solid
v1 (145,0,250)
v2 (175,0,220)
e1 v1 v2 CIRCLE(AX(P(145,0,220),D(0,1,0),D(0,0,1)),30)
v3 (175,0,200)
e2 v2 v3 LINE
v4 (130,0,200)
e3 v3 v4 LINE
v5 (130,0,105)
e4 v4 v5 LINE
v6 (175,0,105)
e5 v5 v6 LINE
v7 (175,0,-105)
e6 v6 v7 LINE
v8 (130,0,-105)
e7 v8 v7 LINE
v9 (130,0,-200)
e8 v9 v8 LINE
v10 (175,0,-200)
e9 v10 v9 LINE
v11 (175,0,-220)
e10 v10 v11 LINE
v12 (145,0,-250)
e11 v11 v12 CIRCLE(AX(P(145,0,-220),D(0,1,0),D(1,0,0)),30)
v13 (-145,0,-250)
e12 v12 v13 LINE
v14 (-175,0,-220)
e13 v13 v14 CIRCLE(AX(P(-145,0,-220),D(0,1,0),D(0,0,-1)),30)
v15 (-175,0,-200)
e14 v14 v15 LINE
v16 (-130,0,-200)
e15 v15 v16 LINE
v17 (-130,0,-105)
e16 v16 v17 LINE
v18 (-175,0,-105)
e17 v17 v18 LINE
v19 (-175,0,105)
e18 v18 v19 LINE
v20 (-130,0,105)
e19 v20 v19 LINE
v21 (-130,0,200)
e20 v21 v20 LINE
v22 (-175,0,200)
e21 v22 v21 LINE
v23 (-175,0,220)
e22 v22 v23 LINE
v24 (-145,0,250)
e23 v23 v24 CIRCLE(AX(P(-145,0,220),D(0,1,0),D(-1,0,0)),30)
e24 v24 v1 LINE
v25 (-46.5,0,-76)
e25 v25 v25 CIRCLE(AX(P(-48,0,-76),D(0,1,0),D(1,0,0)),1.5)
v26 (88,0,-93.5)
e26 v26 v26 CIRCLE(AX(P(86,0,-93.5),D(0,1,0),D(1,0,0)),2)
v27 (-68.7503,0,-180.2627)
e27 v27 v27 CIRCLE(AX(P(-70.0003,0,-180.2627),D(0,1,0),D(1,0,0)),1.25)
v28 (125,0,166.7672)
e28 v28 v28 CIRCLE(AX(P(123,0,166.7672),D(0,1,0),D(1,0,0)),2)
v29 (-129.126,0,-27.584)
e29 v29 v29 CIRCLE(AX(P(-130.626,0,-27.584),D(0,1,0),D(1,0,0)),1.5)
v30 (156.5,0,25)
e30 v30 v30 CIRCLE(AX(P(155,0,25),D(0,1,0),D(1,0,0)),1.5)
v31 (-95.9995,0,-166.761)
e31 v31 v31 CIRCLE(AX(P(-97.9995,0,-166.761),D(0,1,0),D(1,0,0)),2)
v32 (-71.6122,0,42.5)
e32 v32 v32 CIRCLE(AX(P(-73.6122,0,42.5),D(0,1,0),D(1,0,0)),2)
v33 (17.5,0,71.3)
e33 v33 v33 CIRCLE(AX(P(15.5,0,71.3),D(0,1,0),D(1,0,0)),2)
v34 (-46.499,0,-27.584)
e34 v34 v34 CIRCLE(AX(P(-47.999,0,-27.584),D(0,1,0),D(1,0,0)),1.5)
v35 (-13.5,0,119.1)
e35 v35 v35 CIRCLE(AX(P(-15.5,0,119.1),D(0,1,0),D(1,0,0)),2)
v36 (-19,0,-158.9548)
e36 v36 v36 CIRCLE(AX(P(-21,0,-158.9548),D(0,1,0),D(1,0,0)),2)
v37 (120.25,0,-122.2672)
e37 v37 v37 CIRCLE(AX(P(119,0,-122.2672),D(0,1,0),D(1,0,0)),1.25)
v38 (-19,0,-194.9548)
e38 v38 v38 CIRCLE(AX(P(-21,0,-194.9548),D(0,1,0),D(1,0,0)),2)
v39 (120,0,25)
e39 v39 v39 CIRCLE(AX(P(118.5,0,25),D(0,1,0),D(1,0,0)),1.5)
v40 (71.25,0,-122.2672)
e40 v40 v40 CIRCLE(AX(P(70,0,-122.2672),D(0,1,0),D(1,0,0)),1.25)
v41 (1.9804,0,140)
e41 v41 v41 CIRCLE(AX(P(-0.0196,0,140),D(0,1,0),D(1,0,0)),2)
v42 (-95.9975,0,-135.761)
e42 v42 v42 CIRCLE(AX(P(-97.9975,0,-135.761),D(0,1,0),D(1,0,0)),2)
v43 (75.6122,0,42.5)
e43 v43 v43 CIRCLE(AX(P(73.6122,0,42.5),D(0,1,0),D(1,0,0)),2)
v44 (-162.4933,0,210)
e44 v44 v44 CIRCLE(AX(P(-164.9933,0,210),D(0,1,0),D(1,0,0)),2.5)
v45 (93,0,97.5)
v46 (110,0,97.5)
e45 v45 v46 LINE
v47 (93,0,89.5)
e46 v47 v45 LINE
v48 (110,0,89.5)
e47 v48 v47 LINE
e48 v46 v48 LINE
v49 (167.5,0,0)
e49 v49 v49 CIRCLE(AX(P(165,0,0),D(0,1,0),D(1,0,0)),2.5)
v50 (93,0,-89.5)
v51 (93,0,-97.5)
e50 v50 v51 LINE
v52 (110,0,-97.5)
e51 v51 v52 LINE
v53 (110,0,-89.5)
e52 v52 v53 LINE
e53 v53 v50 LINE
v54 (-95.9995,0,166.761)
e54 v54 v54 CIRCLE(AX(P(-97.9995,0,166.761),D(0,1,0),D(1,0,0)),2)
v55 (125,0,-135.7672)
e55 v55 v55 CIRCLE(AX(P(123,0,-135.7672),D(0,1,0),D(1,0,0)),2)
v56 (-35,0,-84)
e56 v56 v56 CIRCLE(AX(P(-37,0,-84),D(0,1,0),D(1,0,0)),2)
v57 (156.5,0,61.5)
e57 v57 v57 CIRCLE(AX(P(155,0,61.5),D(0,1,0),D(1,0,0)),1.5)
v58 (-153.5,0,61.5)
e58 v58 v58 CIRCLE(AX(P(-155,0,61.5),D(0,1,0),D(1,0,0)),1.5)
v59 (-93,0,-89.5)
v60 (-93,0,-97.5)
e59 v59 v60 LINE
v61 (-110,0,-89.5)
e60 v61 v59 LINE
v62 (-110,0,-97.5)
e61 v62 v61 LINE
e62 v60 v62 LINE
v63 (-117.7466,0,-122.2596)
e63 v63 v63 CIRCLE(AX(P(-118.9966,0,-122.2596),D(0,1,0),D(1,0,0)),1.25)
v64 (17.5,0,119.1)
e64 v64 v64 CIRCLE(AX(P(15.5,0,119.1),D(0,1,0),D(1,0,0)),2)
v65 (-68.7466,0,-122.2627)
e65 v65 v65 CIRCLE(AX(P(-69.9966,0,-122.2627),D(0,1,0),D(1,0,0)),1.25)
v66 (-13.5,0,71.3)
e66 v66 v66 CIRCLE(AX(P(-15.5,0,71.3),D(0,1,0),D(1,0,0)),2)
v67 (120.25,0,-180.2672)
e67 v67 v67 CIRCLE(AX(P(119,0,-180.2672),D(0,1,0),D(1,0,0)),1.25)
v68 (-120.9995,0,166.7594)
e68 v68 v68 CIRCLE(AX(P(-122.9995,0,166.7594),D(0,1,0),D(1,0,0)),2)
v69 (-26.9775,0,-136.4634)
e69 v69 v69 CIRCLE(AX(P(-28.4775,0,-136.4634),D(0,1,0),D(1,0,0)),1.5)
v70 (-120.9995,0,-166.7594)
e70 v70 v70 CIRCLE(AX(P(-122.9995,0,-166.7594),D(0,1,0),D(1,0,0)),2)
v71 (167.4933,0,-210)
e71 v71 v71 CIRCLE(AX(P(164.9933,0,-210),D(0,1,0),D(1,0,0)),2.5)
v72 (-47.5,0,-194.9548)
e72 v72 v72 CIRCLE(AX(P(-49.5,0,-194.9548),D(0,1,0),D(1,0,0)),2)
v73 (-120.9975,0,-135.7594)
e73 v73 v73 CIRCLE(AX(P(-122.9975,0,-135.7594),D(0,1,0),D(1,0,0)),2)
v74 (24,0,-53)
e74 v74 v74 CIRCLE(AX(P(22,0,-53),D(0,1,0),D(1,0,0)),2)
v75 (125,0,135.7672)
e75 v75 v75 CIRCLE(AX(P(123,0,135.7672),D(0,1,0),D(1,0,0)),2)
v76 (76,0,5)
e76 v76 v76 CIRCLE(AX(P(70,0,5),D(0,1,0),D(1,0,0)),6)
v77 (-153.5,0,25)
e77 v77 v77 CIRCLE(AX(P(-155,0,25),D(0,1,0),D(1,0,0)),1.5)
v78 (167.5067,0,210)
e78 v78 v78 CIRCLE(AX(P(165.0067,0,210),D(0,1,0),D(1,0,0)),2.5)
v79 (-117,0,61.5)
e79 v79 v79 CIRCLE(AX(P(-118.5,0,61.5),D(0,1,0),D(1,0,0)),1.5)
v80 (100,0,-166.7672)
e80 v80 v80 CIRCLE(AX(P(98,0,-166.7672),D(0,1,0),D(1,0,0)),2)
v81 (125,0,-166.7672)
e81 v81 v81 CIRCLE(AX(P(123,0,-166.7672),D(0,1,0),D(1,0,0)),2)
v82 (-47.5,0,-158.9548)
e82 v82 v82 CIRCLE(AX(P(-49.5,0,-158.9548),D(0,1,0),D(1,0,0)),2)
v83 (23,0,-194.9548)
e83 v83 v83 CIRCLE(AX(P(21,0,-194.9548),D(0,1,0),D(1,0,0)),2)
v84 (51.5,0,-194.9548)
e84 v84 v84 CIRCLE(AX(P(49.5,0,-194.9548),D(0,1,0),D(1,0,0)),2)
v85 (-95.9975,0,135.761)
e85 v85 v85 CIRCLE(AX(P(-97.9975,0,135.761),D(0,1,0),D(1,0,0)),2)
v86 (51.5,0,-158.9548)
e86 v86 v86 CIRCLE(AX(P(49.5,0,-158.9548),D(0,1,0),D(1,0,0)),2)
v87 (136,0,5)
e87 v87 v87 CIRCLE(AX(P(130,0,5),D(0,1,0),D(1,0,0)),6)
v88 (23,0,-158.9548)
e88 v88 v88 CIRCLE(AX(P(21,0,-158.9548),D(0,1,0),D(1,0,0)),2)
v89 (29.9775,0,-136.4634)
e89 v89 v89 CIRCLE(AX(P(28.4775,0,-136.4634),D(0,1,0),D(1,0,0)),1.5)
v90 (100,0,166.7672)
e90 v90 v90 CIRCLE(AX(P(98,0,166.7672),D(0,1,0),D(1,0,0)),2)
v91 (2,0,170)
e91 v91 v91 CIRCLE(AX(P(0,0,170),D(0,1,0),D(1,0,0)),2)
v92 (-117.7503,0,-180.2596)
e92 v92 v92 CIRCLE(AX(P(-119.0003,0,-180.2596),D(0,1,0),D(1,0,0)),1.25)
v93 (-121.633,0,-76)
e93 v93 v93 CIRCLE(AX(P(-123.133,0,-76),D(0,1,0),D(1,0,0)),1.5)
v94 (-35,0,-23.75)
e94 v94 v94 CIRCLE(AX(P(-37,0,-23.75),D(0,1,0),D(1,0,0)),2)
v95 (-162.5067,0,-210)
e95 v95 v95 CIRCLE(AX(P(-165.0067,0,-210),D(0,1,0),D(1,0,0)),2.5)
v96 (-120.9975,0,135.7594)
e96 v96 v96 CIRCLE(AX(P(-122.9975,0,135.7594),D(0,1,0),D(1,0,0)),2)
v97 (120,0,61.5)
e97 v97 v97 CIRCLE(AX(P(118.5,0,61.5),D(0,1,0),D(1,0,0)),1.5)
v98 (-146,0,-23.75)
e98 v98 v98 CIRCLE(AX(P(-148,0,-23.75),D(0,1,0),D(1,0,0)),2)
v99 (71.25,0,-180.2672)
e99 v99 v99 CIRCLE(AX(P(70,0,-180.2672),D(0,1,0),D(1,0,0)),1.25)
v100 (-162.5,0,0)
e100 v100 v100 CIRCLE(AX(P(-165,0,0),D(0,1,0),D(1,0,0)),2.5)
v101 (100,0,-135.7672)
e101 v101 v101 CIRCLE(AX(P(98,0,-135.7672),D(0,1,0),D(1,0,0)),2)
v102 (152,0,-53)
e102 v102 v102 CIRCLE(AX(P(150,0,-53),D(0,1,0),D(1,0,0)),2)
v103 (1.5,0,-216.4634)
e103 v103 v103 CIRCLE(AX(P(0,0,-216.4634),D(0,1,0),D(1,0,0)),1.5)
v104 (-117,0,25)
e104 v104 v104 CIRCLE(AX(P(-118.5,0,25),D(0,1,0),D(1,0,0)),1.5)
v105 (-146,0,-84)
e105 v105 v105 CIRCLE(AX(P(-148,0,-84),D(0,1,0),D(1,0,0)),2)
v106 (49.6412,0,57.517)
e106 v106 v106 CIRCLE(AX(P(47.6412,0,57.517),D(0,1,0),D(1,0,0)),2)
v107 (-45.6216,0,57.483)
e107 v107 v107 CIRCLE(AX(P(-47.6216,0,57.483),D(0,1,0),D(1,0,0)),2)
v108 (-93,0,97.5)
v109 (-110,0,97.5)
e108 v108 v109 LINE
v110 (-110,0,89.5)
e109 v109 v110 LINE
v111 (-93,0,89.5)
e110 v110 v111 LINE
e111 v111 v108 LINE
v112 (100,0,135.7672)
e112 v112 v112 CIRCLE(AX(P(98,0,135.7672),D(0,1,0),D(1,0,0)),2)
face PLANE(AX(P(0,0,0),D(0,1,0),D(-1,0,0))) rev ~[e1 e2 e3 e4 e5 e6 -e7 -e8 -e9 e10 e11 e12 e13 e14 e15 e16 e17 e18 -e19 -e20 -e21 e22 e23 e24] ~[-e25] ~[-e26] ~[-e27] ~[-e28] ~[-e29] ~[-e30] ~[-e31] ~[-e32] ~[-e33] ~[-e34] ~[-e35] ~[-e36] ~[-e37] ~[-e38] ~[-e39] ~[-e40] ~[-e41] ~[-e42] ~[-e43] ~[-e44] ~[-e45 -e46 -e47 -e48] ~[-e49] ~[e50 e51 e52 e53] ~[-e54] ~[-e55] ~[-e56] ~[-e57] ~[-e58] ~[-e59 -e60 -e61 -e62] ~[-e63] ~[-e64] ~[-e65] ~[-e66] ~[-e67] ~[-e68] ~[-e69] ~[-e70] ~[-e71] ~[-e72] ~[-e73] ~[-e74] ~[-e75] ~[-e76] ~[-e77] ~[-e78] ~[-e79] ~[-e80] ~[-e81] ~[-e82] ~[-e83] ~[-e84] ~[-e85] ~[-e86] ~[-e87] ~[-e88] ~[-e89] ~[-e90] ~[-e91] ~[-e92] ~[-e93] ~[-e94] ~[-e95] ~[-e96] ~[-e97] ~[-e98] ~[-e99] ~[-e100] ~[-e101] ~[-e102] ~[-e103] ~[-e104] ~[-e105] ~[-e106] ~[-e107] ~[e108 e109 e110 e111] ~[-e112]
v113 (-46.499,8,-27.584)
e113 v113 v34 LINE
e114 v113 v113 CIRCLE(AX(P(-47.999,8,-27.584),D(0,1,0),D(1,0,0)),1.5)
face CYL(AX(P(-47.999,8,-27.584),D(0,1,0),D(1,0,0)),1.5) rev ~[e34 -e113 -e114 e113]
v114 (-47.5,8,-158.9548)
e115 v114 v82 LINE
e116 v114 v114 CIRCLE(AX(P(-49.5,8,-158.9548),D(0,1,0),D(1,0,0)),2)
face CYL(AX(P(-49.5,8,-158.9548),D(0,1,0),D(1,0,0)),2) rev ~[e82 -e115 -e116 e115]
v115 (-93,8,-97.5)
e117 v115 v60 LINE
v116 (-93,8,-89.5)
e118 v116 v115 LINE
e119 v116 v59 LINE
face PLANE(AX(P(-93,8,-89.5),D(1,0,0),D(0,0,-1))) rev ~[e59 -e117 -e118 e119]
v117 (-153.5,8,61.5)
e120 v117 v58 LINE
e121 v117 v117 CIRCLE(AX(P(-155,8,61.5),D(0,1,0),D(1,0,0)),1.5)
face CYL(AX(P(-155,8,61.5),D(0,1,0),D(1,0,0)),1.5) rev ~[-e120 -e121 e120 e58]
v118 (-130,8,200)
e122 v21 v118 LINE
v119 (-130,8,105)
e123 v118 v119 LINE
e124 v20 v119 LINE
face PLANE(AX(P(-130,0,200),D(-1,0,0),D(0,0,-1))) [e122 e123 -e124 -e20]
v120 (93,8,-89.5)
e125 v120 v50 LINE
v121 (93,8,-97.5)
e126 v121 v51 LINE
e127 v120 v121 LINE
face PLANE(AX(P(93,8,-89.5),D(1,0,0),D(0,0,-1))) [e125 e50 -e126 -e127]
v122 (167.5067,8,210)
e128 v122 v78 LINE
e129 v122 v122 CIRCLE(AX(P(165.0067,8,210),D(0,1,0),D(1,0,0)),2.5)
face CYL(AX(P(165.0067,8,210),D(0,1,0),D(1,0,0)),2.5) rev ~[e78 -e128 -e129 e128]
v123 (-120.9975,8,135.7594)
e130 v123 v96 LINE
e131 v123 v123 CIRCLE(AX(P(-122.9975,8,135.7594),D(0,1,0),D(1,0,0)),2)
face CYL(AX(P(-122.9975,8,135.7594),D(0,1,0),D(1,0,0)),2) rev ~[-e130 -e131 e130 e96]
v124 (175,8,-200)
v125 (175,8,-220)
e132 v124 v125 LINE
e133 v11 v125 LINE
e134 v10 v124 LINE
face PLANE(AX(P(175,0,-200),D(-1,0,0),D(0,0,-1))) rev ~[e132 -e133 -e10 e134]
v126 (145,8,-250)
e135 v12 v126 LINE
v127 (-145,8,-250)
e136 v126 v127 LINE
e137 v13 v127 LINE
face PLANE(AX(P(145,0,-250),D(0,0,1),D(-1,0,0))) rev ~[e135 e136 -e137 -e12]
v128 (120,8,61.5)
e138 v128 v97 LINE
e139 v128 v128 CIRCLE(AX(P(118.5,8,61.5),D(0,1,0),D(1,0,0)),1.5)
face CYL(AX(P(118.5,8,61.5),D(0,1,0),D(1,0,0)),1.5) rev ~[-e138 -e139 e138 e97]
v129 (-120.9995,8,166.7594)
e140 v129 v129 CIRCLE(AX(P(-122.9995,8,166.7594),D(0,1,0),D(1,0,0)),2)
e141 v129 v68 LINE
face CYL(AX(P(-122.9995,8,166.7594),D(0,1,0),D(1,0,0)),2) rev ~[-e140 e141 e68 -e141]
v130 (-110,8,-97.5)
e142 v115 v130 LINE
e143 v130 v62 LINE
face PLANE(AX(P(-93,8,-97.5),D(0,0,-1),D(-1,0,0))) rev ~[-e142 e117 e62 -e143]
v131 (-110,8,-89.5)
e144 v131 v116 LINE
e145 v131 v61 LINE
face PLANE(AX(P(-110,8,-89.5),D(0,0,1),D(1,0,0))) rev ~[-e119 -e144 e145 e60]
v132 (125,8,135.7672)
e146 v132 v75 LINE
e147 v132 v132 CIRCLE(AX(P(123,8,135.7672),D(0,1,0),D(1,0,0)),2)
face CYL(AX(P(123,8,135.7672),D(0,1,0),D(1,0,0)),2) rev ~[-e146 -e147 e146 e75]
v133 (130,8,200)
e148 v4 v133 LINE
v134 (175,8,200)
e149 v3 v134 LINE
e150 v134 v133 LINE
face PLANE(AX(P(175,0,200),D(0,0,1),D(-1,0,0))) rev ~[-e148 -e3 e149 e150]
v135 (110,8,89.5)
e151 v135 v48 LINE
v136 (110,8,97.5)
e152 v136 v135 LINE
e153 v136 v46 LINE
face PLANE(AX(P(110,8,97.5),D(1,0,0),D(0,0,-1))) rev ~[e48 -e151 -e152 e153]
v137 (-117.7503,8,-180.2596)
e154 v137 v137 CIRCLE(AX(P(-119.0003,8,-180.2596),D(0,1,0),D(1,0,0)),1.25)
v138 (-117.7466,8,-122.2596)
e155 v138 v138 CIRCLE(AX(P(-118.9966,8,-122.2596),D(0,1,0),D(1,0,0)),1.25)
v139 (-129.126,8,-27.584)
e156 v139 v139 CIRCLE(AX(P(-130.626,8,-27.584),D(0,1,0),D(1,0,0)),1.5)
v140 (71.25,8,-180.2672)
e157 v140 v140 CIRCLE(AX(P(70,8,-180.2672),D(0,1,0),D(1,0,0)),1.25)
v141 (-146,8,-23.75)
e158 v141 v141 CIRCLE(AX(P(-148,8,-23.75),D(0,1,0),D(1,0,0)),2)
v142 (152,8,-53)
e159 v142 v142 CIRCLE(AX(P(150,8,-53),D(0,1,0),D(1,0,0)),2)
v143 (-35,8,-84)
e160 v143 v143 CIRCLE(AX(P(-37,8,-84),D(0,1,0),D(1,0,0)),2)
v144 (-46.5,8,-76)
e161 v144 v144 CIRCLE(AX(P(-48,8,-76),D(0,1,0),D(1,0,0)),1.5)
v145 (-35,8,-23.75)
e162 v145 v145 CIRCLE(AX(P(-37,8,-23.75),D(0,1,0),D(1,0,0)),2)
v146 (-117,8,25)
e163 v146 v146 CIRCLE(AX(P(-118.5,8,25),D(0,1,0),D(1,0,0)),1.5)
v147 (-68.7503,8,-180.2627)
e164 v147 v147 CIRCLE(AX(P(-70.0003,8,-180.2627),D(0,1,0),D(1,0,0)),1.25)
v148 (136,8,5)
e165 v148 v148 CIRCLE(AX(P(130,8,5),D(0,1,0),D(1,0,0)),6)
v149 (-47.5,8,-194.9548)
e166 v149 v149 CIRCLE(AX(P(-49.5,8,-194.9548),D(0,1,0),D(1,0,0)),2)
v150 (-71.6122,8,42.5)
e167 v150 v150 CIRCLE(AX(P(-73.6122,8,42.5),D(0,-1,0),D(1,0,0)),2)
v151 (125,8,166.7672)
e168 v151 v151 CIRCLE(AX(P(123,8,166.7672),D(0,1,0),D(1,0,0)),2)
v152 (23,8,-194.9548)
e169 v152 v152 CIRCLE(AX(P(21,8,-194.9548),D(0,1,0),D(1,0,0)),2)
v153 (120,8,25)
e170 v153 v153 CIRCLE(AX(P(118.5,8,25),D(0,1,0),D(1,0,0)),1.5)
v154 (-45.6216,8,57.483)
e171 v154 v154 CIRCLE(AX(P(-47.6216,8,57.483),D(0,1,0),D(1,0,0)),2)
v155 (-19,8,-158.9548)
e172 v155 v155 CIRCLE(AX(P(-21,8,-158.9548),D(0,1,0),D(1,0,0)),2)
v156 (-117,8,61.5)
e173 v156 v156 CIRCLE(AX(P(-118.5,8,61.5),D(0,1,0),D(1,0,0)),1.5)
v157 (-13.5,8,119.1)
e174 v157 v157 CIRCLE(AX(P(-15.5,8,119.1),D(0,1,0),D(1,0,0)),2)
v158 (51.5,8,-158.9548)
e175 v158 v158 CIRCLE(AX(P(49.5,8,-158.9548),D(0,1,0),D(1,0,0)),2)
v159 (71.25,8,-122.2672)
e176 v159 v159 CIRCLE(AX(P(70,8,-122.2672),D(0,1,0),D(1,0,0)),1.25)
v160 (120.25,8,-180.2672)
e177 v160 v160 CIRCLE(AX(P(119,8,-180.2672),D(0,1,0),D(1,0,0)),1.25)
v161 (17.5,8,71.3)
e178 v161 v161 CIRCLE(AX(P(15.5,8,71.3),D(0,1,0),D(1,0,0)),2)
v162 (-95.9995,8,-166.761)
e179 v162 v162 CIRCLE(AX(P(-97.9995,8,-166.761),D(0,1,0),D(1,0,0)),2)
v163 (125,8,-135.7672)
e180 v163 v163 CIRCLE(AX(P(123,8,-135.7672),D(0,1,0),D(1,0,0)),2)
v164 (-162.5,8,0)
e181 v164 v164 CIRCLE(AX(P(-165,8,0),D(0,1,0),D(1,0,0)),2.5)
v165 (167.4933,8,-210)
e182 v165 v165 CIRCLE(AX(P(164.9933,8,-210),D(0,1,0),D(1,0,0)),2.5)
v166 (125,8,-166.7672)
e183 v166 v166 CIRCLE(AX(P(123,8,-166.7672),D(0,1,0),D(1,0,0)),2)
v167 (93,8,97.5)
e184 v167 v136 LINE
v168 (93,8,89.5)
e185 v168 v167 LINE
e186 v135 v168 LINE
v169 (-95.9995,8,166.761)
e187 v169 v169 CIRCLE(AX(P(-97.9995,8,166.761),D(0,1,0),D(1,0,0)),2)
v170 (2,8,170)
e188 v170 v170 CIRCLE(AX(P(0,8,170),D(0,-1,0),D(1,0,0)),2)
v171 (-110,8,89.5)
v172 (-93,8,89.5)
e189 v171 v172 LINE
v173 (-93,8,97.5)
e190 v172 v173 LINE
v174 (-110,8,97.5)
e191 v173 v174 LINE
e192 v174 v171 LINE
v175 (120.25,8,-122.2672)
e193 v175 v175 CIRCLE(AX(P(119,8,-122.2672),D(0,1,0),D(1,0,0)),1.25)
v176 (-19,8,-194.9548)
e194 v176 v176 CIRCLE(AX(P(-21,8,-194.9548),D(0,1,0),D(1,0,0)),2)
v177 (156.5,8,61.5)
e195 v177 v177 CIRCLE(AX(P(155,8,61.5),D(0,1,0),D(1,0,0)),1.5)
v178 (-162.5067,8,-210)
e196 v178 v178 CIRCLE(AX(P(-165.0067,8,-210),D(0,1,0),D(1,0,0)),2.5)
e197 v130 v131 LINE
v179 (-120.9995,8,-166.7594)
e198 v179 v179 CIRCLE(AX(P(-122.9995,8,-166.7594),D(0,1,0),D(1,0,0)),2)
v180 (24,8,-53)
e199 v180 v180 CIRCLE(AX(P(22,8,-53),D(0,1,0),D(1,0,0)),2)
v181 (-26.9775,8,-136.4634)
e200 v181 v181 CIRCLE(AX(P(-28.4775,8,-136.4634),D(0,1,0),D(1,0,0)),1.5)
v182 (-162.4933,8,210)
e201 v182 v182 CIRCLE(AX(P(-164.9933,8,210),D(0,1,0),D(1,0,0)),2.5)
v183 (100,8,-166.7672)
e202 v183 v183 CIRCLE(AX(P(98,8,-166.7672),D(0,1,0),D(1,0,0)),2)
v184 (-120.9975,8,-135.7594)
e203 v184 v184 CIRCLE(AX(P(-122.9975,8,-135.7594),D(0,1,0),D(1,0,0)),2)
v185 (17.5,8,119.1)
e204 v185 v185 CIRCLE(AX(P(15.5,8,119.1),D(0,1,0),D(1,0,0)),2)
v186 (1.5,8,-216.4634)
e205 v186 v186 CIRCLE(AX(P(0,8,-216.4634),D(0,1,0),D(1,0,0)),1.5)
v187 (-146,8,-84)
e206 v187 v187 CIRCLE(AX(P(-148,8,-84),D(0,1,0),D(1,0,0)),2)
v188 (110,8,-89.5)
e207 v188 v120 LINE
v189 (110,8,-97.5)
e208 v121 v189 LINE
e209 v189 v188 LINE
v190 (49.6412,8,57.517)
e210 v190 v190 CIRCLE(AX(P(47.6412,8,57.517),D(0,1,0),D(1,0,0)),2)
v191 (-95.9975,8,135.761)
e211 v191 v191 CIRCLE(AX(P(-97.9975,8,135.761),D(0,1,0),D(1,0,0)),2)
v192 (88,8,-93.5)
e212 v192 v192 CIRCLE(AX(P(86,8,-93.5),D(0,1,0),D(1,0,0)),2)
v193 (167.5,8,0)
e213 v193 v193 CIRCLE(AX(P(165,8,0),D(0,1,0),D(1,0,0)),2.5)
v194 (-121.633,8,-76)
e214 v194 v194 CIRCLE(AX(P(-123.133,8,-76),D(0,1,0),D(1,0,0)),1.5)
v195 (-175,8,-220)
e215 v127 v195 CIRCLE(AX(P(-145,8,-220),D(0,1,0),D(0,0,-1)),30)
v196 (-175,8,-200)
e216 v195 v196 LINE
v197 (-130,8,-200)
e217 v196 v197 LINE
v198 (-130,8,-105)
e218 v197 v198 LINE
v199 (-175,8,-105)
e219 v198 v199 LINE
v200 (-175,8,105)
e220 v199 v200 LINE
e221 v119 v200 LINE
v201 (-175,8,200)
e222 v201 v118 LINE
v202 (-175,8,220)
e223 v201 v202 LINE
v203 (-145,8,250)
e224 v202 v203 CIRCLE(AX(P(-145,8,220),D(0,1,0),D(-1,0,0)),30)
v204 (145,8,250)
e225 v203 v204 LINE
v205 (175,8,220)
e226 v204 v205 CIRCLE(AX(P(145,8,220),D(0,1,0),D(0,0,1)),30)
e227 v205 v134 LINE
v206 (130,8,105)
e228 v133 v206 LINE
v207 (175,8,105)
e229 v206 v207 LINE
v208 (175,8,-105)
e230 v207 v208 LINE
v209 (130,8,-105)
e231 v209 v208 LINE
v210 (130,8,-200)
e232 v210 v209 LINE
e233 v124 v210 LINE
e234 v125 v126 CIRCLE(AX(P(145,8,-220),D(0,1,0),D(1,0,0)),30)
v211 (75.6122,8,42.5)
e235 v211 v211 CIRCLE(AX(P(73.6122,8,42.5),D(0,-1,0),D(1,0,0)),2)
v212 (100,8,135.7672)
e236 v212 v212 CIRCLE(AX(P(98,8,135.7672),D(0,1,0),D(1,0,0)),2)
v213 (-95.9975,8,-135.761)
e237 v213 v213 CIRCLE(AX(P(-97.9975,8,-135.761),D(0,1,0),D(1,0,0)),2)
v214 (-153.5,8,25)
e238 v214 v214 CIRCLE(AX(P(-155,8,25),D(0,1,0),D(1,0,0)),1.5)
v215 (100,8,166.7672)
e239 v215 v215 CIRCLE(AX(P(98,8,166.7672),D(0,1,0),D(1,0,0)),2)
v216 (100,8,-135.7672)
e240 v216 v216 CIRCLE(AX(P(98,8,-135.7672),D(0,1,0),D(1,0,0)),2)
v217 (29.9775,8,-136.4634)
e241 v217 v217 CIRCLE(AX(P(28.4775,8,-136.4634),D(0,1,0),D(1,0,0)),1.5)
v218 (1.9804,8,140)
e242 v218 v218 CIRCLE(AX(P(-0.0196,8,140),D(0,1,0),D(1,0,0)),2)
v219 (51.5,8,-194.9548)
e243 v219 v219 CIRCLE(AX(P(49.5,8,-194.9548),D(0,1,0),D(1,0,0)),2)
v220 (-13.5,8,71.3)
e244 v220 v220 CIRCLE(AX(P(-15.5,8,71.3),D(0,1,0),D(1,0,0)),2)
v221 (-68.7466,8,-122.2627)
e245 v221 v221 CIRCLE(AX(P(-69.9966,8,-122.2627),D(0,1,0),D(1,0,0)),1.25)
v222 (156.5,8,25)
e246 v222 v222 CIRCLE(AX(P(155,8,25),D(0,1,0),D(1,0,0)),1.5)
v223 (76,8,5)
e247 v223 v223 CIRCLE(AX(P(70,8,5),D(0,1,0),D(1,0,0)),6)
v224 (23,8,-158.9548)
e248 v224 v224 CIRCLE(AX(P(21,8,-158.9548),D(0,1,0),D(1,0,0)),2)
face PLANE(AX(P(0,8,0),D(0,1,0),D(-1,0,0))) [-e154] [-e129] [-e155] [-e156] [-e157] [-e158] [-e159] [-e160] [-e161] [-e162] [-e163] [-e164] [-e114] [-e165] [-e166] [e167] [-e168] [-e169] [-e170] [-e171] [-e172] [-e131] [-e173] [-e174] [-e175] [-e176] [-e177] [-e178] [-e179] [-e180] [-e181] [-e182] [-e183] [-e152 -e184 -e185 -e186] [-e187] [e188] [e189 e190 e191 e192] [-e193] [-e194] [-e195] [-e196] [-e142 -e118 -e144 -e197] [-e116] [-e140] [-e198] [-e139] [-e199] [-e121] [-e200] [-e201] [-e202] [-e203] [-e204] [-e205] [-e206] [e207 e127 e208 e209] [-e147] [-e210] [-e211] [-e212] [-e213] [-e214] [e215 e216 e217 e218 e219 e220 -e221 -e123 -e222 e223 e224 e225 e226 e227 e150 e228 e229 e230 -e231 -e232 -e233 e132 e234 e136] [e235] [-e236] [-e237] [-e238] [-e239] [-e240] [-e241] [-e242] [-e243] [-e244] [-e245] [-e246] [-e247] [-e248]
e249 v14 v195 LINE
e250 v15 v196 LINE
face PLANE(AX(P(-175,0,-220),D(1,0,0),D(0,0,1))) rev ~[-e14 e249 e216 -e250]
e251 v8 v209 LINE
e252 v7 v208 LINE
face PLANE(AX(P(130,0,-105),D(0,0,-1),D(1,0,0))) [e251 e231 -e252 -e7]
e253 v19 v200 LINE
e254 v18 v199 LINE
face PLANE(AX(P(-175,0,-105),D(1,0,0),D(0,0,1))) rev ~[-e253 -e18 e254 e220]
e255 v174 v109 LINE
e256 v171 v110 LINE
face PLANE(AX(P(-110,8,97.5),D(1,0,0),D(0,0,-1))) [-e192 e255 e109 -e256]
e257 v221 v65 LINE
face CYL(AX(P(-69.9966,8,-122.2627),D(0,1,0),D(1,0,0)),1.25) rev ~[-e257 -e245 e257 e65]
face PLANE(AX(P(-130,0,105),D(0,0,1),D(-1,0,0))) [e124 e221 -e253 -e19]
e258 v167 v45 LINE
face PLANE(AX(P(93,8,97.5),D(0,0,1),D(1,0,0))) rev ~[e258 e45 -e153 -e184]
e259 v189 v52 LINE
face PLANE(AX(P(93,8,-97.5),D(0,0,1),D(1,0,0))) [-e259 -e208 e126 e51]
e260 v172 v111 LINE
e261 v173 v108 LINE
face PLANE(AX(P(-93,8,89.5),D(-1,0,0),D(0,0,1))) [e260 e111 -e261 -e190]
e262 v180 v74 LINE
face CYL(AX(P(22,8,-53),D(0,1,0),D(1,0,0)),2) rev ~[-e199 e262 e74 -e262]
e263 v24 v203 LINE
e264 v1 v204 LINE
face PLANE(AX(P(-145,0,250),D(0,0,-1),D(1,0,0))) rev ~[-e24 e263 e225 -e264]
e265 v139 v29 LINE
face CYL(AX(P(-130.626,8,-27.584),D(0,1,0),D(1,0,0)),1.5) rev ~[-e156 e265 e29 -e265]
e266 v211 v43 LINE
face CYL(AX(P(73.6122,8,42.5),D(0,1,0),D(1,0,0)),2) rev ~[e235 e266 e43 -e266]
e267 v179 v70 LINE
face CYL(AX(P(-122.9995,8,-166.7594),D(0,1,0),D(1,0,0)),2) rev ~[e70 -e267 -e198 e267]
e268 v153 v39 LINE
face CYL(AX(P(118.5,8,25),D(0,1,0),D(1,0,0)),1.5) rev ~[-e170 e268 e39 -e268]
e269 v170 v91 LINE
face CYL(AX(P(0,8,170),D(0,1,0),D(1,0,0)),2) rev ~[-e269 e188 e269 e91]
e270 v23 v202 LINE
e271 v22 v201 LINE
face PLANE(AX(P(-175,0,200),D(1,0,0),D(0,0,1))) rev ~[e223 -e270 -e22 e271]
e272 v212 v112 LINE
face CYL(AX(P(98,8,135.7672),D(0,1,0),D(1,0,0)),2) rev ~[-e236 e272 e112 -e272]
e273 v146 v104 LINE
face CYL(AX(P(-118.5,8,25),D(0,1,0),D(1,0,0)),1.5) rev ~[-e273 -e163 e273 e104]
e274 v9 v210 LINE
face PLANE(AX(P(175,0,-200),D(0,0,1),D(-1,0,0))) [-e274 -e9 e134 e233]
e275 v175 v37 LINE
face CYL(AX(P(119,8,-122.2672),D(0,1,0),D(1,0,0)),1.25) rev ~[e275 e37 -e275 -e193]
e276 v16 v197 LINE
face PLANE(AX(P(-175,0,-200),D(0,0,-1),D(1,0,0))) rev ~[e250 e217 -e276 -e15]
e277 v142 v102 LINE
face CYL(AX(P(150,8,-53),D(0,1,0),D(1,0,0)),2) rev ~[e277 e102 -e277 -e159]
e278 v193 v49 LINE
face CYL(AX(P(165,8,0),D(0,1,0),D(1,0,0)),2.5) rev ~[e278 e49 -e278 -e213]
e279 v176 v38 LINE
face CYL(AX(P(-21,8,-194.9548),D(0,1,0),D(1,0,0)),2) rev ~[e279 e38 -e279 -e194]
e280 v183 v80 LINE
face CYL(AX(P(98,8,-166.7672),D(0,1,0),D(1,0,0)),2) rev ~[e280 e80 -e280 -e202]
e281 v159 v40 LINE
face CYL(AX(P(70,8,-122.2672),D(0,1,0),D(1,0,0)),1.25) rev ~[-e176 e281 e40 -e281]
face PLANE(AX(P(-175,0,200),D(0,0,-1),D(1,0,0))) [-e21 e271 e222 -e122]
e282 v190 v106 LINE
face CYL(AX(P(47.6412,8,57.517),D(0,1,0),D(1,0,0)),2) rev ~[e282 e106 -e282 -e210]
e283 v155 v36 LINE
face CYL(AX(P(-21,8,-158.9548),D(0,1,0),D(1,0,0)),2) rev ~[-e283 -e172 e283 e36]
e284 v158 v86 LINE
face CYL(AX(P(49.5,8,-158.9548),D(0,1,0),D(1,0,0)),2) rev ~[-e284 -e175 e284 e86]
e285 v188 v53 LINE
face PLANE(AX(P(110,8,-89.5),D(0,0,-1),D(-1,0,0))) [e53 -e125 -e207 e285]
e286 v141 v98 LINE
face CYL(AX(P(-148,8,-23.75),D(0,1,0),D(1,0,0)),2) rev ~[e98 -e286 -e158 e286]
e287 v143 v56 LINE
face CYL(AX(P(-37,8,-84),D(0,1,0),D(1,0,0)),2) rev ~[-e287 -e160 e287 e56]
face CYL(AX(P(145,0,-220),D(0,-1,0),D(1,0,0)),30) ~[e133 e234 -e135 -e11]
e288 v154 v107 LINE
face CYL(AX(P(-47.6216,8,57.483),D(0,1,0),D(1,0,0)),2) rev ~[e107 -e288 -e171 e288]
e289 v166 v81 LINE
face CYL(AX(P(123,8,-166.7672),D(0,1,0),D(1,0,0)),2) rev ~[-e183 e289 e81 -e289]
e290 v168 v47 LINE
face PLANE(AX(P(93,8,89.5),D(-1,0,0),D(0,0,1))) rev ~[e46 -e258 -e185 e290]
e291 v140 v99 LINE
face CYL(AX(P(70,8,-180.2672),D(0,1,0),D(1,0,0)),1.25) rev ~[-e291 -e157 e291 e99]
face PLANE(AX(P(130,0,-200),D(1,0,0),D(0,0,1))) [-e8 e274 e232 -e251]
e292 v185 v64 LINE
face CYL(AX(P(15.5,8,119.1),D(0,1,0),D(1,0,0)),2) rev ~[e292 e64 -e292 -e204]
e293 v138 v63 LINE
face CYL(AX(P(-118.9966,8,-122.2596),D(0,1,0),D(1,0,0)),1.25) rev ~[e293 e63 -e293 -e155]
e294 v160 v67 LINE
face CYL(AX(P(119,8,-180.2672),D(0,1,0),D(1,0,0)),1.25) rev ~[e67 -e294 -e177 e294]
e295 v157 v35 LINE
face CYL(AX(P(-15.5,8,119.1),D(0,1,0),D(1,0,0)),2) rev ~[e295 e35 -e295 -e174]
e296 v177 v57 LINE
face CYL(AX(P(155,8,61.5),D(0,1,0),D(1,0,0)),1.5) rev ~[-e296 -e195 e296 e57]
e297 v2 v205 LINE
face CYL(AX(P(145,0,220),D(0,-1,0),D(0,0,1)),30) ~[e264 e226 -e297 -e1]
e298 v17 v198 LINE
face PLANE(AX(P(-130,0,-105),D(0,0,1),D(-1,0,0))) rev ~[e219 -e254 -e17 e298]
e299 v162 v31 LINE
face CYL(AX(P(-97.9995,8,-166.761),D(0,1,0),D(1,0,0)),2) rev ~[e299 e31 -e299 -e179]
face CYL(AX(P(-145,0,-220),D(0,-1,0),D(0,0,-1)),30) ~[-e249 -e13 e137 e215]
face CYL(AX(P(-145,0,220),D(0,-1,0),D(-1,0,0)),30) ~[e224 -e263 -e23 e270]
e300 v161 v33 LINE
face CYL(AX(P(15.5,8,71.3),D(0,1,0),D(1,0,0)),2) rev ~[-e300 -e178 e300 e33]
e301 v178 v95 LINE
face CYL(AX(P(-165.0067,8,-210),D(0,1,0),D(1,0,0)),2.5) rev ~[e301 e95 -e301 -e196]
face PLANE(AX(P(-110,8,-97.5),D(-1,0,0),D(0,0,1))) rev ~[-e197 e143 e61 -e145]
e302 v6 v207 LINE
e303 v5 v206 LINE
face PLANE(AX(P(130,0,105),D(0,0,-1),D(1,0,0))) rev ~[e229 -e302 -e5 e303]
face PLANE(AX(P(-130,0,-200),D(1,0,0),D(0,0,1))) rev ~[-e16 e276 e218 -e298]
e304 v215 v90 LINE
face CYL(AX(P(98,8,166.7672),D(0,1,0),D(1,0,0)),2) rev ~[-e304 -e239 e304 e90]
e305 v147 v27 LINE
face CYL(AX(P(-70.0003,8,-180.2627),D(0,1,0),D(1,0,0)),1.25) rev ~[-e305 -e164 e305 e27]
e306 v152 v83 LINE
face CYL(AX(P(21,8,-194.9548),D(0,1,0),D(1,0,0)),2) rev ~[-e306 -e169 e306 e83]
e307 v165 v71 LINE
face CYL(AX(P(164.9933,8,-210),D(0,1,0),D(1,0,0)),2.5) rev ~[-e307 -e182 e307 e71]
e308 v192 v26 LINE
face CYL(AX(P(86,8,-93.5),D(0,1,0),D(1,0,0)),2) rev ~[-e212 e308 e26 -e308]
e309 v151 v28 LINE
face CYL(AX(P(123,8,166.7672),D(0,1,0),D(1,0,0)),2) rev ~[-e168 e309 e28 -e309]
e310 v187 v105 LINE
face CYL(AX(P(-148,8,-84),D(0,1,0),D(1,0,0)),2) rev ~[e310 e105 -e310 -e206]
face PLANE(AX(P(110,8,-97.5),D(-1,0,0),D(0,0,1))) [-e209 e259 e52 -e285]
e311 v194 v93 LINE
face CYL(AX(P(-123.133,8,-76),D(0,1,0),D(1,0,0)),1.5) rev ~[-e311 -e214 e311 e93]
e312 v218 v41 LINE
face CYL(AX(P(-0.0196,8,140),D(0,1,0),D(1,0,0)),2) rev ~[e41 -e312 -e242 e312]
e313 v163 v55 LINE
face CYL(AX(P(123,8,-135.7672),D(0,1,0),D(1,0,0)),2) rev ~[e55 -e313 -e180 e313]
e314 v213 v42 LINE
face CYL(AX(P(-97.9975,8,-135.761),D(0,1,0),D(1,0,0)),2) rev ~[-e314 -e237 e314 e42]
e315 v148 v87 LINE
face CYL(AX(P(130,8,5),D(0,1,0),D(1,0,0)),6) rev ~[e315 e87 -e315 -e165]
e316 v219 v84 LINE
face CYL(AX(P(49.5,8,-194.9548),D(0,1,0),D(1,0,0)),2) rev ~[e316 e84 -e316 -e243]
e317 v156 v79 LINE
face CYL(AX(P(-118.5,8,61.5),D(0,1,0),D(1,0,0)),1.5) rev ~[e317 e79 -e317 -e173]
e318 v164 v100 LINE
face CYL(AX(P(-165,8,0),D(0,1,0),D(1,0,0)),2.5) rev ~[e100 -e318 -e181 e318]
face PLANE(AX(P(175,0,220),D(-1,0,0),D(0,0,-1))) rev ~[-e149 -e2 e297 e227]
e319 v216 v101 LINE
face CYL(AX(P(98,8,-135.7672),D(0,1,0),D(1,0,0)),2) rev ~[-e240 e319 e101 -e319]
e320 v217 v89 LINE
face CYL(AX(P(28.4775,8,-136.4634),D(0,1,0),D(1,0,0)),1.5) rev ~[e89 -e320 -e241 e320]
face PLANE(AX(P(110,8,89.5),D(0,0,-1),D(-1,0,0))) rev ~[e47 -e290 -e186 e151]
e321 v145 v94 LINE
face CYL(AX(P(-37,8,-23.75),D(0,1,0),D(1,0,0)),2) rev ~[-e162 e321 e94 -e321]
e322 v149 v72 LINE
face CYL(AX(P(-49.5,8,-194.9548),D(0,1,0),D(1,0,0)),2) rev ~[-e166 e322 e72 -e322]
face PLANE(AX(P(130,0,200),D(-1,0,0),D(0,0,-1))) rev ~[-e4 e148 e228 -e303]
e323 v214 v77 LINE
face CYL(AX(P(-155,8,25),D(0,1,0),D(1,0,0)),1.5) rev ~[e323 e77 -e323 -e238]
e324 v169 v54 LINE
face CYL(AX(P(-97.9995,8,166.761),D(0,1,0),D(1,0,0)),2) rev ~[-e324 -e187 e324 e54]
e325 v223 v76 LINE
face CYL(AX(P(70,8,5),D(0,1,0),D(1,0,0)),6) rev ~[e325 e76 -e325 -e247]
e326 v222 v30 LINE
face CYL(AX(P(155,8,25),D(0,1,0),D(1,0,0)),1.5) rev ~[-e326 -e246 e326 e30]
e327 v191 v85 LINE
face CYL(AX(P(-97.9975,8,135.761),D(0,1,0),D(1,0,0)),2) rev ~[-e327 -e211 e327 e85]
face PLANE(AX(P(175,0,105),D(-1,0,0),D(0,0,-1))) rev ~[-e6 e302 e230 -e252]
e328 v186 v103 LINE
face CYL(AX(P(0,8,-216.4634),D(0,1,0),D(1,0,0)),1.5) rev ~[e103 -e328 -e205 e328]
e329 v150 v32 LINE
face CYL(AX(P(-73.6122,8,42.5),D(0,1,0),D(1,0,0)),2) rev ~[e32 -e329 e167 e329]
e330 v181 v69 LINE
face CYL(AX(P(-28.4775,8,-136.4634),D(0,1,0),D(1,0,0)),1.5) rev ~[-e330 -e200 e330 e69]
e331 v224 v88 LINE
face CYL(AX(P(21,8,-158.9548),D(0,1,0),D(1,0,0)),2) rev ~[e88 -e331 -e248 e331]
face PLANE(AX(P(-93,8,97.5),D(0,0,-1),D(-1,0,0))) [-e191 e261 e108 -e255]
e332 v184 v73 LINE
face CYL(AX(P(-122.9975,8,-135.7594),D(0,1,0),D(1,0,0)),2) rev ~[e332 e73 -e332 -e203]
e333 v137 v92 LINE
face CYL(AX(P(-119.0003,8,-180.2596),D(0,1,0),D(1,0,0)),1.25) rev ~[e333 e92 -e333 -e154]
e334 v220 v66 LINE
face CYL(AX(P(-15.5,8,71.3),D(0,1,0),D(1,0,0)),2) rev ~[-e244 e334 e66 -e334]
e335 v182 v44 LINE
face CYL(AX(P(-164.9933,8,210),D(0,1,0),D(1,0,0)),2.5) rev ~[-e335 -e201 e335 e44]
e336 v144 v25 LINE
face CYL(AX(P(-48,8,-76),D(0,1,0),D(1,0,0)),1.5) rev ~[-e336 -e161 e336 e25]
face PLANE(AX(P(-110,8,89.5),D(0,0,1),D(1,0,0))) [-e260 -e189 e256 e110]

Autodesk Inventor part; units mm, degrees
ref_plane "YZ Plane" through (0, 0, 0) normal (1, 0, 0) x (0, 1, 0)
ref_plane "XZ Plane" through (0, 0, 0) normal (0, 1, 0) x (-1, 0, 0)
ref_plane "XY Plane" through (0, 0, 0) normal (0, 0, 1) x (1, 0, 0)
sketch "스케치1" plane through (0, 0, 0) normal (0, 1, 0) x (-1, 0, 0)
  line L0 (145, 250) -> (-145, 250)
  line L1 (-175, 220) -> (-175, -220)
  line L2 (-145, -250) -> (145, -250)
  line L3 (175, -220) -> (175, 220)
  line L4 (175, 250) -> (-175, -250) construction
  line L5 (-175, 250) -> (175, -250) construction
  arc A0 (145, -250) -> (175, -220) centre (145, -220) ccw
  arc A1 (-175, -220) -> (-145, -250) centre (-145, -220) ccw
  arc A2 (-145, 250) -> (-175, 220) centre (-145, 220) ccw
  arc A3 (175, 220) -> (145, 250) centre (145, 220) ccw
  line L6 (0, 0) -> (0, -150)
  line L7 (0, 0) -> (-113, 0)
  line L8 (175, -200) -> (130, -200)
  line L9 (130, -200) -> (130, -105)
  line L10 (130, -105) -> (175, -105)
  line L11 (175, -105) -> (175, -200)
  line L12 (-175, -200) -> (-130, -200)
  line L13 (-130, -200) -> (-130, -105)
  line L14 (-130, -105) -> (-175, -105)
  line L15 (-175, -105) -> (-175, -200)
  line L16 (175, 200) -> (130, 200)
  line L17 (130, 200) -> (130, 105)
  line L18 (130, 105) -> (175, 105)
  line L19 (175, 105) -> (175, 200)
  line L20 (-175, 200) -> (-130, 200)
  line L21 (-130, 105) -> (-175, 105)
  line L22 (-175, 105) -> (-175, 200)
  line L23 (-130, 200) -> (-130, 105)
  point P0 (-175, 200)
  point P1 (-175, 105)
  point P2 (-175, -105)
  point P3 (-175, -200)
  point P4 (175, 105)
  point P5 (175, 200)
  dimension "d0" = 350
  dimension "d1" = 500
  dimension "d2" = 30
  dimension "d4" = 95
  dimension "d5" = 45
  dimension "d6" = 50
  dimension "d9" = 50
  dimension "d10" = 45
  dimension "d11" = 95
extrude "돌출1" add sketch "스케치1" along normal blind 8 contours A3 L3 L16 L17 L18 L10 L9 L8 A0 L2 A1 L1 L12 L13 L14 L21 L23 L20 A2 L0
sketch "스케치3" plane through (0, 8, 0) normal (0, 1, 0) x (1, 0, 0)
  line L0 (175, -105) -> (175, 105) projected
  circle A0 centre (0, -85) radius 103.75 projected
  circle A1 centre (0, -85) radius 85
  line L1 (0, -85) -> (0, -170) construction
  circle A2 centre (0, -170) radius 2
  circle A3 centre (73.6122, -42.5) radius 2
  circle A4 centre (-73.6122, -42.5) radius 2
  point P0 (0, 0)
  dimension "d12" = 170
  dimension "d13" = 4
  dimension "d16" = 360
extrude "돌출2" cut sketch "스케치3" against normal blind 10 contours A3 A1 | A1 A3 | A2 A1 | A1 A2 | A4 A1 | A1 A4
sketch "스케치4" plane through (0, 8, 0) normal (0, 1, 0) x (1, 0, 0)
  arc A0 (-175, -220) -> (-145, -250) centre (-145, -220) ccw projected
  line L0 (145, -250) -> (-145, -250) projected
  arc A1 (145, -250) -> (175, -220) centre (145, -220) ccw projected
  line L1 (175, 220) -> (175, -220) projected
  arc A2 (175, 220) -> (145, 250) centre (145, 220) ccw projected
  line L2 (-145, 250) -> (145, 250) projected
  arc A3 (-145, 250) -> (-175, 220) centre (-145, 220) ccw projected
  line L3 (-175, -220) -> (-175, 220) projected
  circle A4 centre (0, 175) radius 36 projected
  circle A5 centre (0, -85) radius 103.75 projected
  line L4 (-10, -75.2) -> (10, -75.2)
  line L5 (10, -75.2) -> (10, -115.2)
  line L6 (10, -115.2) -> (-10, -115.2)
  line L7 (-10, -115.2) -> (-10, -75.2)
  line L8 (0, -85) -> (0, -68) construction
  line L9 (-10, -95.2) -> (10, -95.2) construction
  line L10 (-10, -75.2) -> (-10, -67.7)
  line L11 (-10, -67.7) -> (10, -67.7)
  line L12 (10, -67.7) -> (10, -75.2)
  circle A6 centre (-5, -70.9) radius 2.5
  line L13 (-0.05, -69.45) -> (-0.05, -77.45)
  circle A7 centre (4.9, -70.9) radius 2.5
  line L14 (0, -105.4) -> (0, -122.4) construction
  line L15 (-10, -115.2) -> (-10, -122.7)
  line L16 (-10, -122.7) -> (10, -122.7)
  line L17 (10, -122.7) -> (10, -115.2)
  circle A8 centre (-5, -119.5) radius 2.5
  line L18 (-0.05, -120.95) -> (-0.05, -112.95)
  circle A9 centre (4.9, -119.5) radius 2.5
  point P0 (0, 0)
  dimension "d20" = 9.8
  dimension "d21" = 40
  dimension "d22" = 20
  dimension "d23" = 27.5
  dimension "d25" = 5
  dimension "d26" = 4.95
  dimension "d27" = 24.3
  dimension "d28" = 5
extrude "돌출3" cut sketch "스케치4" against normal blind 10 contours A6 | A7 | A8 | A9
sketch "스케치6" plane through (0, 8, 0) normal (0, 1, 0) x (1, 0, 0)
  circle A0 centre (0, -170) radius 2 projected
  circle A1 centre (73.6122, -42.5) radius 2 projected
  circle A2 centre (-73.6122, -42.5) radius 2 projected
  line L0 (175, -105) -> (175, 105) projected
  line L1 (130, 105) -> (130, 200) projected
  line L2 (145, 250) -> (-145, 250) projected
  circle A3 centre (47.6412, -57.517) radius 2 projected
  circle A4 centre (-47.6216, -57.483) radius 2 projected
  circle A5 centre (-0.0196, -140) radius 2 projected
  circle A6 centre (0, 216.4634) radius 1.9 projected
  circle A7 centre (-28.4775, 136.4634) radius 1.9 projected
  circle A8 centre (28.4775, 136.4634) radius 1.9 projected
  circle A9 centre (123, 166.7672) radius 2.75 construction
  circle A10 centre (98, 166.7672) radius 2.75 construction
  circle A11 centre (98, 135.7672) radius 2.75 construction
  circle A12 centre (123, 135.7672) radius 2.75 construction
  circle A13 centre (123, 135.7672) radius 2
  circle A14 centre (123, 166.7672) radius 2
  circle A15 centre (98, 166.7672) radius 2
  circle A16 centre (98, 135.7672) radius 2
  line L3 (98, 135.7672) -> (98, 166.7672) construction
  line L4 (98, 166.7672) -> (123, 166.7672) construction
  line L5 (123, 166.7672) -> (123, 135.7672) construction
  line L6 (123, 151.2672) -> (98, 151.2672) construction
  circle A17 centre (119, 122.2672) radius 1.25
  circle A18 centre (70, 122.2672) radius 1.25
  line L7 (119, 122.2672) -> (70, 122.2672) construction
  line L8 (94.5, 122.2672) -> (94.5, 130) construction
  circle A19 centre (119, 180.2672) radius 1.25
  circle A20 centre (70, 180.2672) radius 1.25
  circle A21 centre (0.0018, 119.3) radius 3.75 projected
  circle A22 centre (0, 175) radius 33.15 projected
  line L9 (0.0018, 119.3) -> (0, 175) construction
  circle A23 centre (-118.9966, 122.2596) radius 1.25
  circle A24 centre (-69.9966, 122.2627) radius 1.25
  circle A25 centre (-70.0003, 180.2627) radius 1.25
  circle A26 centre (-119.0003, 180.2596) radius 1.25
  line L10 (175, -10) -> (155, -10) construction
  line L11 (155, -10) -> (155, 10) construction
  line L12 (155, 10) -> (175, 10) construction
  line L13 (175, 10) -> (175, -10) construction
  line L14 (0, 0) -> (-57, 0) construction
  line L15 (175, -10) -> (155, 10) construction
  line L16 (175, 10) -> (155, -10) construction
  circle A27 centre (165, 0) radius 2.5
  line L17 (0, 0) -> (0, -38) construction
  circle A28 centre (-165, 0) radius 2.5
  circle A29 centre (164.9933, 210) radius 2.5
  circle A30 centre (-165.0067, 210) radius 2.5
  circle A31 centre (165.0067, -210) radius 2.5
  circle A32 centre (-164.9933, -210) radius 2.5
  circle A33 centre (15.5, -71.3) radius 2 projected
  circle A34 centre (-15.5, -71.3) radius 2 projected
  circle A35 centre (15.5, -119.1) radius 2 projected
  circle A36 centre (-15.5, -119.1) radius 2 projected
  line L18 (123, 135.7672) -> (98, 135.7672) construction
  circle A37 centre (-122.9995, 166.7594) radius 2.75 construction
  circle A38 centre (-97.9995, 166.761) radius 2.75 construction
  circle A39 centre (-97.9975, 135.761) radius 2.75 construction
  circle A40 centre (-122.9975, 135.7594) radius 2.75 construction
  circle A41 centre (-122.9975, 135.7594) radius 2
  circle A42 centre (-122.9995, 166.7594) radius 2
  circle A43 centre (-97.9995, 166.761) radius 2
  circle A44 centre (-97.9975, 135.761) radius 2
  line L19 (-97.9975, 135.761) -> (-97.9995, 166.761) construction
  line L20 (-97.9995, 166.761) -> (-122.9995, 166.7594) construction
  line L21 (-122.9995, 166.7594) -> (-122.9975, 135.7594) construction
  line L22 (-122.9985, 151.2594) -> (-97.9985, 151.261) construction
  line L23 (-122.9975, 135.7594) -> (-97.9975, 135.761) construction
  circle A45 centre (123, -166.7672) radius 2.75 construction
  circle A46 centre (98, -166.7672) radius 2.75 construction
  circle A47 centre (98, -135.7672) radius 2.75 construction
  circle A48 centre (123, -135.7672) radius 2.75 construction
  circle A49 centre (123, -135.7672) radius 2
  circle A50 centre (123, -166.7672) radius 2
  circle A51 centre (98, -166.7672) radius 2
  circle A52 centre (98, -135.7672) radius 2
  line L24 (98, -135.7672) -> (98, -166.7672) construction
  line L25 (98, -166.7672) -> (123, -166.7672) construction
  line L26 (123, -166.7672) -> (123, -135.7672) construction
  line L27 (123, -151.2672) -> (98, -151.2672) construction
  line L28 (123, -135.7672) -> (98, -135.7672) construction
  circle A53 centre (-122.9975, -135.7594) radius 2.75 construction
  circle A54 centre (-122.9975, -135.7594) radius 2
  line L29 (-122.9975, -135.7594) -> (-97.9975, -135.761) construction
  circle A55 centre (-97.9975, -135.761) radius 2
  circle A56 centre (-97.9975, -135.761) radius 2.75 construction
  circle A57 centre (-122.9995, -166.7594) radius 2.75 construction
  line L30 (-122.9985, -151.2594) -> (-97.9985, -151.261) construction
  line L31 (-122.9995, -166.7594) -> (-122.9975, -135.7594) construction
  line L32 (-97.9975, -135.761) -> (-97.9995, -166.761) construction
  line L33 (-97.9995, -166.761) -> (-122.9995, -166.7594) construction
  circle A58 centre (-97.9995, -166.761) radius 2
  circle A59 centre (-97.9995, -166.761) radius 2.75 construction
  circle A60 centre (-122.9995, -166.7594) radius 2
  circle A61 centre (4.9, -70.9) radius 2.5 projected
  circle A62 centre (-5, -119.5) radius 2.5 projected
  circle A63 centre (-5, -70.9) radius 2.5 projected
  circle A64 centre (4.9, -119.5) radius 2.5 projected
  circle A65 centre (0, -170) radius 2 projected
  circle A66 centre (73.6122, -42.5) radius 2 projected
  circle A67 centre (-73.6122, -42.5) radius 2 projected
  line L34 (175, -220) -> (175, -200) projected
  line L35 (175, -200) -> (130, -200) projected
  line L36 (130, -200) -> (130, -105) projected
  line L37 (130, -105) -> (175, -105) projected
  line L38 (175, -105) -> (175, 105) projected
  line L39 (175, 105) -> (130, 105) projected
  line L40 (130, 105) -> (130, 200) projected
  line L41 (130, 200) -> (175, 200) projected
  line L42 (175, 200) -> (175, 220) projected
  arc A68 (175, 220) -> (145, 250) centre (145, 220) ccw projected
  line L43 (145, 250) -> (-145, 250) projected
  arc A69 (-145, 250) -> (-175, 220) centre (-145, 220) ccw projected
  line L44 (-175, 220) -> (-175, 200) projected
  line L45 (-175, 200) -> (-130, 200) projected
  line L46 (-130, 200) -> (-130, 105) projected
  line L47 (-130, 105) -> (-175, 105) projected
  line L48 (-175, 105) -> (-175, -105) projected
  line L49 (-175, -105) -> (-130, -105) projected
  line L50 (-130, -105) -> (-130, -200) projected
  line L51 (-130, -200) -> (-175, -200) projected
  line L52 (-175, -200) -> (-175, -220) projected
  arc A70 (-175, -220) -> (-145, -250) centre (-145, -220) ccw projected
  line L53 (-145, -250) -> (145, -250) projected
  arc A71 (145, -250) -> (175, -220) centre (145, -220) ccw projected
  circle A72 centre (28.4775, 136.4634) radius 1.5
  circle A73 centre (-28.4775, 136.4634) radius 1.5
  circle A74 centre (0, 216.4634) radius 1.5
  dimension "d39" = 4
  dimension "d41" = 4
  dimension "d42" = 4
  dimension "d47" = 2.5
  dimension "d49" = 4
  dimension "d51" = 49
  dimension "d52" = 2.5
  dimension "d57" = 20
  dimension "d58" = 20
  dimension "d59" = 5
  dimension "d62" = 330
  dimension "d65" = 210
  dimension "d69" = 7
  dimension "d70" = 114.2328
  dimension "d71" = 25
  dimension "d72" = 4
  dimension "d73" = 31
  dimension "d74" = 25
  dimension "d75" = 29
  dimension "d149" = 3
  dimension "d150" = 3
  dimension "d151" = 3
extrude "돌출4" cut sketch "스케치6" against normal blind 10 contours A0 | A1 | A2 | A3 | A4 | A5 | A13 | A14 | A15 | A16 | A17 | A18 | A19 | A20 | A23 | A24 | A25 | A26 | A27 | A28 | A29 | A30 | A31 | A32 | A33 | A34 | A35 | A36 | A41 | A42 | A43 | A44 | A49 | A50 | A51 | A52 | A54 | A55 | A58 | A60 | A72 | A73 | A74
sketch "스케치7" plane through (0, 8, 0) normal (0, 1, 0) x (1, 0, 0)
  circle A0 centre (4.9, -70.9) radius 2.5 projected
  circle A1 centre (-5, -119.5) radius 2.5 projected
  circle A2 centre (-5, -70.9) radius 2.5 projected
  circle A3 centre (4.9, -119.5) radius 2.5 projected
  point P0 (0, 0)
extrude "돌출5" add sketch "스케치7" against normal blind 8
sketch "스케치8" plane through (0, 8, 0) normal (0, 1, 0) x (1, 0, 0)
  circle A0 centre (123, -166.7672) radius 2 projected
  circle A1 centre (-122.9975, -135.7594) radius 2 projected
  circle A2 centre (-97.9975, 135.761) radius 2 projected
  circle A3 centre (-15.5, -71.3) radius 2 projected
  circle A4 centre (-165.0067, 210) radius 2.5 projected
  circle A5 centre (-119.0003, 180.2596) radius 1.25 projected
  circle A6 centre (119, 122.2672) radius 1.25 projected
  circle A7 centre (123, 135.7672) radius 2 projected
  circle A8 centre (-0.0196, -140) radius 2 projected
  circle A9 centre (123, 166.7672) radius 2 projected
  circle A10 centre (70, 122.2672) radius 1.25 projected
  circle A11 centre (-69.9966, 122.2627) radius 1.25 projected
  circle A12 centre (165, 0) radius 2.5 projected
  circle A13 centre (165.0067, -210) radius 2.5 projected
  circle A14 centre (15.5, -119.1) radius 2 projected
  circle A15 centre (-97.9995, 166.761) radius 2 projected
  circle A16 centre (-97.9995, -166.761) radius 2 projected
  circle A17 centre (98, -166.7672) radius 2 projected
  circle A18 centre (123, -135.7672) radius 2 projected
  circle A19 centre (-97.9975, -135.761) radius 2 projected
  circle A20 centre (-122.9975, 135.7594) radius 2 projected
  circle A21 centre (15.5, -71.3) radius 2 projected
  circle A22 centre (164.9933, 210) radius 2.5 projected
  circle A23 centre (-70.0003, 180.2627) radius 1.25 projected
  circle A24 centre (119, 180.2672) radius 1.25 projected
  circle A25 centre (98, 135.7672) radius 2 projected
  circle A26 centre (-47.6216, -57.483) radius 2 projected
  circle A27 centre (47.6412, -57.517) radius 2 projected
  circle A28 centre (98, 166.7672) radius 2 projected
  circle A29 centre (70, 180.2672) radius 1.25 projected
  circle A30 centre (-118.9966, 122.2596) radius 1.25 projected
  circle A31 centre (-165, 0) radius 2.5 projected
  circle A32 centre (-164.9933, -210) radius 2.5 projected
  circle A33 centre (-15.5, -119.1) radius 2 projected
  circle A34 centre (-122.9995, 166.7594) radius 2 projected
  circle A35 centre (-122.9995, -166.7594) radius 2 projected
  circle A36 centre (98, -135.7672) radius 2 projected
  circle A37 centre (0, -170) radius 2 projected
  circle A38 centre (73.6122, -42.5) radius 2 projected
  circle A39 centre (-73.6122, -42.5) radius 2 projected
  line L0 (175, -105) -> (175, 105) projected
  line L1 (130, 105) -> (130, 200) projected
  line L2 (145, 250) -> (-145, 250) projected
  line L3 (-130, 105) -> (-175, 105) projected
  circle A40 centre (150, 53) radius 2
  line L4 (21, 194.9548) -> (49.5, 194.9548) construction
  line L5 (49.5, 194.9548) -> (49.5, 158.9548) construction
  line L6 (49.5, 158.9548) -> (21, 158.9548) construction
  line L7 (21, 158.9548) -> (21, 194.9548) construction
  circle A41 centre (21, 194.9548) radius 2
  circle A42 centre (49.5, 194.9548) radius 2
  circle A43 centre (49.5, 158.9548) radius 2
  circle A44 centre (21, 158.9548) radius 2
  line L8 (150, 53) -> (22, 53) construction
  line L9 (86, 53) -> (86, 93.5) construction
  circle A45 centre (86, 93.5) radius 2
  circle A46 centre (22, 53) radius 2
  line L10 (0, 175) -> (0, 0) construction
  circle A47 centre (-21, 194.9548) radius 2
  circle A48 centre (-49.5, 194.9548) radius 2
  circle A49 centre (-49.5, 158.9548) radius 2
  circle A50 centre (-21, 158.9548) radius 2
  line L11 (155, -61.5) -> (118.5, -61.5) construction
  line L12 (118.5, -61.5) -> (118.5, -25) construction
  line L13 (118.5, -25) -> (155, -25) construction
  line L14 (155, -25) -> (155, -61.5) construction
  circle A51 centre (155, -25) radius 1.5
  circle A52 centre (118.5, -25) radius 1.5
  circle A53 centre (155, -61.5) radius 1.5
  circle A54 centre (118.5, -61.5) radius 1.5
  circle A55 centre (-155, -25) radius 1.5
  circle A56 centre (-118.5, -25) radius 1.5
  circle A57 centre (-155, -61.5) radius 1.5
  circle A58 centre (-118.5, -61.5) radius 1.5
  circle A59 centre (0, -85) radius 85 construction
  line L15 (-136.977, 80) -> (-32.377, 80) construction
  line L16 (-32.377, 80) -> (-32.377, 23.584) construction
  line L17 (-32.377, 23.584) -> (-136.977, 23.584) construction
  line L18 (-136.977, 23.584) -> (-136.977, 80) construction
  circle A60 centre (-123.133, 76) radius 1.5
  circle A61 centre (-48, 76) radius 1.5
  circle A62 centre (-47.999, 27.584) radius 1.5
  circle A63 centre (-130.626, 27.584) radius 1.5
  line L19 (93, 97.5) -> (110, 97.5)
  line L20 (110, 97.5) -> (110, 89.5)
  line L21 (110, 89.5) -> (93, 89.5)
  line L22 (93, 89.5) -> (93, 97.5)
  line L23 (105, 0) -> (0, 0) construction
  line L24 (-93, 97.5) -> (-110, 97.5)
  line L25 (-110, 97.5) -> (-110, 89.5)
  line L26 (-110, 89.5) -> (-93, 89.5)
  line L27 (-93, 89.5) -> (-93, 97.5)
  line L28 (93, -97.5) -> (110, -97.5)
  line L29 (110, -97.5) -> (110, -89.5)
  line L30 (110, -89.5) -> (93, -89.5)
  line L31 (93, -89.5) -> (93, -97.5)
  line L32 (-110, -97.5) -> (-110, -89.5)
  line L33 (-110, -89.5) -> (-93, -89.5)
  line L34 (-93, -89.5) -> (-93, -97.5)
  line L35 (-93, -97.5) -> (-110, -97.5)
  line L36 (-148, 84) -> (-37, 84) construction
  line L37 (-37, 84) -> (-37, 23.75) construction
  line L38 (-37, 23.75) -> (-148, 23.75) construction
  line L39 (-148, 23.75) -> (-148, 84) construction
  circle A64 centre (-37, 84) radius 2
  circle A65 centre (-37, 23.75) radius 2
  circle A66 centre (-148, 84) radius 2
  circle A67 centre (-148, 23.75) radius 2
  circle A68 centre (70, -5) radius 6
  circle A69 centre (130, -5) radius 6
  line L40 (-155, -10) -> (-175, -10)
  line L41 (-175, -10) -> (-175, 10)
  line L42 (-175, 10) -> (-155, 10)
  line L43 (-155, 10) -> (-155, -10)
  line L44 (-155, -10) -> (-175, 10) construction
  line L45 (-175, -10) -> (-155, 10) construction
  dimension "d80" = 4
  dimension "d81" = 25
  dimension "d83" = 28.5
  dimension "d84" = 36
  dimension "d85" = 4
  dimension "d86" = 4
  dimension "d87" = 4
  dimension "d88" = 4
  dimension "d89" = 128
  dimension "d90" = 40.5
  dimension "d91" = 4
  dimension "d92" = 4
  dimension "d93" = 53
  dimension "d94" = 21
  dimension "d96" = 36.5
  dimension "d97" = 36.5
  dimension "d98" = 3
  dimension "d99" = 3
  dimension "d100" = 3
  dimension "d101" = 3
  dimension "d102" = 25
  dimension "d103" = 104.6
  dimension "d104" = 56.416
  dimension "d105" = 3
  dimension "d106" = 3
  dimension "d107" = 4
  dimension "d108" = 13.844
  dimension "d109" = 75.133
  dimension "d110" = 3
  dimension "d111" = 3
  dimension "d112" = 4
  dimension "d113" = 15.622
  dimension "d114" = 6.351
  dimension "d117" = 17
  dimension "d118" = 8
  dimension "d119" = 19.9548
  dimension "d120" = 75
  dimension "d121" = 20
  dimension "d122" = 7.5
  dimension "d123" = 111
  dimension "d124" = 60.25
  dimension "d125" = 4
  dimension "d126" = 4
  dimension "d127" = 4
  dimension "d128" = 4
  dimension "d129" = 37
  dimension "d130" = 48
  dimension "d131" = 21
  dimension "d132" = 29
  dimension "d136" = 53
  dimension "d137" = 70
  dimension "d140" = 12
  dimension "d141" = 12
  dimension "d142" = 60
  dimension "d144" = 45
  dimension "d145" = 20
  dimension "d146" = 20
  dimension "d147" = 20
  dimension "d148" = 20
extrude "돌출6" cut sketch "스케치8" along normal through all both and the other way through all contours A0 | A1 | A2 | A3 | A4 | A5 | A6 | A7 | A8 | A9 | A10 | A11 | A12 | A13 | A14 | A15 | A16 | A17 | A18 | A19 | A20 | A21 | A22 | A23 | A24 | A25 | A26 | A27 | A28 | A29 | A30 | A31 | A32 | A33 | A34 | A35 | A36 | A37 | A38 | A39 | A40 | A41 | A42 | A43 | A44 | A45 | A46 | A47 | A48 | A49 | A50 | A51 | A52 | A53 | A54 | A55 | A56 | A57 | A58 | A60 | A61 | A62 | A63 | L19 L20 L21 L22 | L27 L26 L25 L24 | L31 L30 L29 L28 | L32 L33 L34 L35 | A64 | A65 | A66 | A67 | A68 | A69
equation "\"d39\" = d35"
equation "\"d41\" = d39"
equation "\"d42\" = d40"
equation "\"d52\" = d47"
equation "\"d35\" = d31"
equation "\"d40\" = d39"
equation "\"d31\" = 4"
properties part number "SAFRS-P-0059"
